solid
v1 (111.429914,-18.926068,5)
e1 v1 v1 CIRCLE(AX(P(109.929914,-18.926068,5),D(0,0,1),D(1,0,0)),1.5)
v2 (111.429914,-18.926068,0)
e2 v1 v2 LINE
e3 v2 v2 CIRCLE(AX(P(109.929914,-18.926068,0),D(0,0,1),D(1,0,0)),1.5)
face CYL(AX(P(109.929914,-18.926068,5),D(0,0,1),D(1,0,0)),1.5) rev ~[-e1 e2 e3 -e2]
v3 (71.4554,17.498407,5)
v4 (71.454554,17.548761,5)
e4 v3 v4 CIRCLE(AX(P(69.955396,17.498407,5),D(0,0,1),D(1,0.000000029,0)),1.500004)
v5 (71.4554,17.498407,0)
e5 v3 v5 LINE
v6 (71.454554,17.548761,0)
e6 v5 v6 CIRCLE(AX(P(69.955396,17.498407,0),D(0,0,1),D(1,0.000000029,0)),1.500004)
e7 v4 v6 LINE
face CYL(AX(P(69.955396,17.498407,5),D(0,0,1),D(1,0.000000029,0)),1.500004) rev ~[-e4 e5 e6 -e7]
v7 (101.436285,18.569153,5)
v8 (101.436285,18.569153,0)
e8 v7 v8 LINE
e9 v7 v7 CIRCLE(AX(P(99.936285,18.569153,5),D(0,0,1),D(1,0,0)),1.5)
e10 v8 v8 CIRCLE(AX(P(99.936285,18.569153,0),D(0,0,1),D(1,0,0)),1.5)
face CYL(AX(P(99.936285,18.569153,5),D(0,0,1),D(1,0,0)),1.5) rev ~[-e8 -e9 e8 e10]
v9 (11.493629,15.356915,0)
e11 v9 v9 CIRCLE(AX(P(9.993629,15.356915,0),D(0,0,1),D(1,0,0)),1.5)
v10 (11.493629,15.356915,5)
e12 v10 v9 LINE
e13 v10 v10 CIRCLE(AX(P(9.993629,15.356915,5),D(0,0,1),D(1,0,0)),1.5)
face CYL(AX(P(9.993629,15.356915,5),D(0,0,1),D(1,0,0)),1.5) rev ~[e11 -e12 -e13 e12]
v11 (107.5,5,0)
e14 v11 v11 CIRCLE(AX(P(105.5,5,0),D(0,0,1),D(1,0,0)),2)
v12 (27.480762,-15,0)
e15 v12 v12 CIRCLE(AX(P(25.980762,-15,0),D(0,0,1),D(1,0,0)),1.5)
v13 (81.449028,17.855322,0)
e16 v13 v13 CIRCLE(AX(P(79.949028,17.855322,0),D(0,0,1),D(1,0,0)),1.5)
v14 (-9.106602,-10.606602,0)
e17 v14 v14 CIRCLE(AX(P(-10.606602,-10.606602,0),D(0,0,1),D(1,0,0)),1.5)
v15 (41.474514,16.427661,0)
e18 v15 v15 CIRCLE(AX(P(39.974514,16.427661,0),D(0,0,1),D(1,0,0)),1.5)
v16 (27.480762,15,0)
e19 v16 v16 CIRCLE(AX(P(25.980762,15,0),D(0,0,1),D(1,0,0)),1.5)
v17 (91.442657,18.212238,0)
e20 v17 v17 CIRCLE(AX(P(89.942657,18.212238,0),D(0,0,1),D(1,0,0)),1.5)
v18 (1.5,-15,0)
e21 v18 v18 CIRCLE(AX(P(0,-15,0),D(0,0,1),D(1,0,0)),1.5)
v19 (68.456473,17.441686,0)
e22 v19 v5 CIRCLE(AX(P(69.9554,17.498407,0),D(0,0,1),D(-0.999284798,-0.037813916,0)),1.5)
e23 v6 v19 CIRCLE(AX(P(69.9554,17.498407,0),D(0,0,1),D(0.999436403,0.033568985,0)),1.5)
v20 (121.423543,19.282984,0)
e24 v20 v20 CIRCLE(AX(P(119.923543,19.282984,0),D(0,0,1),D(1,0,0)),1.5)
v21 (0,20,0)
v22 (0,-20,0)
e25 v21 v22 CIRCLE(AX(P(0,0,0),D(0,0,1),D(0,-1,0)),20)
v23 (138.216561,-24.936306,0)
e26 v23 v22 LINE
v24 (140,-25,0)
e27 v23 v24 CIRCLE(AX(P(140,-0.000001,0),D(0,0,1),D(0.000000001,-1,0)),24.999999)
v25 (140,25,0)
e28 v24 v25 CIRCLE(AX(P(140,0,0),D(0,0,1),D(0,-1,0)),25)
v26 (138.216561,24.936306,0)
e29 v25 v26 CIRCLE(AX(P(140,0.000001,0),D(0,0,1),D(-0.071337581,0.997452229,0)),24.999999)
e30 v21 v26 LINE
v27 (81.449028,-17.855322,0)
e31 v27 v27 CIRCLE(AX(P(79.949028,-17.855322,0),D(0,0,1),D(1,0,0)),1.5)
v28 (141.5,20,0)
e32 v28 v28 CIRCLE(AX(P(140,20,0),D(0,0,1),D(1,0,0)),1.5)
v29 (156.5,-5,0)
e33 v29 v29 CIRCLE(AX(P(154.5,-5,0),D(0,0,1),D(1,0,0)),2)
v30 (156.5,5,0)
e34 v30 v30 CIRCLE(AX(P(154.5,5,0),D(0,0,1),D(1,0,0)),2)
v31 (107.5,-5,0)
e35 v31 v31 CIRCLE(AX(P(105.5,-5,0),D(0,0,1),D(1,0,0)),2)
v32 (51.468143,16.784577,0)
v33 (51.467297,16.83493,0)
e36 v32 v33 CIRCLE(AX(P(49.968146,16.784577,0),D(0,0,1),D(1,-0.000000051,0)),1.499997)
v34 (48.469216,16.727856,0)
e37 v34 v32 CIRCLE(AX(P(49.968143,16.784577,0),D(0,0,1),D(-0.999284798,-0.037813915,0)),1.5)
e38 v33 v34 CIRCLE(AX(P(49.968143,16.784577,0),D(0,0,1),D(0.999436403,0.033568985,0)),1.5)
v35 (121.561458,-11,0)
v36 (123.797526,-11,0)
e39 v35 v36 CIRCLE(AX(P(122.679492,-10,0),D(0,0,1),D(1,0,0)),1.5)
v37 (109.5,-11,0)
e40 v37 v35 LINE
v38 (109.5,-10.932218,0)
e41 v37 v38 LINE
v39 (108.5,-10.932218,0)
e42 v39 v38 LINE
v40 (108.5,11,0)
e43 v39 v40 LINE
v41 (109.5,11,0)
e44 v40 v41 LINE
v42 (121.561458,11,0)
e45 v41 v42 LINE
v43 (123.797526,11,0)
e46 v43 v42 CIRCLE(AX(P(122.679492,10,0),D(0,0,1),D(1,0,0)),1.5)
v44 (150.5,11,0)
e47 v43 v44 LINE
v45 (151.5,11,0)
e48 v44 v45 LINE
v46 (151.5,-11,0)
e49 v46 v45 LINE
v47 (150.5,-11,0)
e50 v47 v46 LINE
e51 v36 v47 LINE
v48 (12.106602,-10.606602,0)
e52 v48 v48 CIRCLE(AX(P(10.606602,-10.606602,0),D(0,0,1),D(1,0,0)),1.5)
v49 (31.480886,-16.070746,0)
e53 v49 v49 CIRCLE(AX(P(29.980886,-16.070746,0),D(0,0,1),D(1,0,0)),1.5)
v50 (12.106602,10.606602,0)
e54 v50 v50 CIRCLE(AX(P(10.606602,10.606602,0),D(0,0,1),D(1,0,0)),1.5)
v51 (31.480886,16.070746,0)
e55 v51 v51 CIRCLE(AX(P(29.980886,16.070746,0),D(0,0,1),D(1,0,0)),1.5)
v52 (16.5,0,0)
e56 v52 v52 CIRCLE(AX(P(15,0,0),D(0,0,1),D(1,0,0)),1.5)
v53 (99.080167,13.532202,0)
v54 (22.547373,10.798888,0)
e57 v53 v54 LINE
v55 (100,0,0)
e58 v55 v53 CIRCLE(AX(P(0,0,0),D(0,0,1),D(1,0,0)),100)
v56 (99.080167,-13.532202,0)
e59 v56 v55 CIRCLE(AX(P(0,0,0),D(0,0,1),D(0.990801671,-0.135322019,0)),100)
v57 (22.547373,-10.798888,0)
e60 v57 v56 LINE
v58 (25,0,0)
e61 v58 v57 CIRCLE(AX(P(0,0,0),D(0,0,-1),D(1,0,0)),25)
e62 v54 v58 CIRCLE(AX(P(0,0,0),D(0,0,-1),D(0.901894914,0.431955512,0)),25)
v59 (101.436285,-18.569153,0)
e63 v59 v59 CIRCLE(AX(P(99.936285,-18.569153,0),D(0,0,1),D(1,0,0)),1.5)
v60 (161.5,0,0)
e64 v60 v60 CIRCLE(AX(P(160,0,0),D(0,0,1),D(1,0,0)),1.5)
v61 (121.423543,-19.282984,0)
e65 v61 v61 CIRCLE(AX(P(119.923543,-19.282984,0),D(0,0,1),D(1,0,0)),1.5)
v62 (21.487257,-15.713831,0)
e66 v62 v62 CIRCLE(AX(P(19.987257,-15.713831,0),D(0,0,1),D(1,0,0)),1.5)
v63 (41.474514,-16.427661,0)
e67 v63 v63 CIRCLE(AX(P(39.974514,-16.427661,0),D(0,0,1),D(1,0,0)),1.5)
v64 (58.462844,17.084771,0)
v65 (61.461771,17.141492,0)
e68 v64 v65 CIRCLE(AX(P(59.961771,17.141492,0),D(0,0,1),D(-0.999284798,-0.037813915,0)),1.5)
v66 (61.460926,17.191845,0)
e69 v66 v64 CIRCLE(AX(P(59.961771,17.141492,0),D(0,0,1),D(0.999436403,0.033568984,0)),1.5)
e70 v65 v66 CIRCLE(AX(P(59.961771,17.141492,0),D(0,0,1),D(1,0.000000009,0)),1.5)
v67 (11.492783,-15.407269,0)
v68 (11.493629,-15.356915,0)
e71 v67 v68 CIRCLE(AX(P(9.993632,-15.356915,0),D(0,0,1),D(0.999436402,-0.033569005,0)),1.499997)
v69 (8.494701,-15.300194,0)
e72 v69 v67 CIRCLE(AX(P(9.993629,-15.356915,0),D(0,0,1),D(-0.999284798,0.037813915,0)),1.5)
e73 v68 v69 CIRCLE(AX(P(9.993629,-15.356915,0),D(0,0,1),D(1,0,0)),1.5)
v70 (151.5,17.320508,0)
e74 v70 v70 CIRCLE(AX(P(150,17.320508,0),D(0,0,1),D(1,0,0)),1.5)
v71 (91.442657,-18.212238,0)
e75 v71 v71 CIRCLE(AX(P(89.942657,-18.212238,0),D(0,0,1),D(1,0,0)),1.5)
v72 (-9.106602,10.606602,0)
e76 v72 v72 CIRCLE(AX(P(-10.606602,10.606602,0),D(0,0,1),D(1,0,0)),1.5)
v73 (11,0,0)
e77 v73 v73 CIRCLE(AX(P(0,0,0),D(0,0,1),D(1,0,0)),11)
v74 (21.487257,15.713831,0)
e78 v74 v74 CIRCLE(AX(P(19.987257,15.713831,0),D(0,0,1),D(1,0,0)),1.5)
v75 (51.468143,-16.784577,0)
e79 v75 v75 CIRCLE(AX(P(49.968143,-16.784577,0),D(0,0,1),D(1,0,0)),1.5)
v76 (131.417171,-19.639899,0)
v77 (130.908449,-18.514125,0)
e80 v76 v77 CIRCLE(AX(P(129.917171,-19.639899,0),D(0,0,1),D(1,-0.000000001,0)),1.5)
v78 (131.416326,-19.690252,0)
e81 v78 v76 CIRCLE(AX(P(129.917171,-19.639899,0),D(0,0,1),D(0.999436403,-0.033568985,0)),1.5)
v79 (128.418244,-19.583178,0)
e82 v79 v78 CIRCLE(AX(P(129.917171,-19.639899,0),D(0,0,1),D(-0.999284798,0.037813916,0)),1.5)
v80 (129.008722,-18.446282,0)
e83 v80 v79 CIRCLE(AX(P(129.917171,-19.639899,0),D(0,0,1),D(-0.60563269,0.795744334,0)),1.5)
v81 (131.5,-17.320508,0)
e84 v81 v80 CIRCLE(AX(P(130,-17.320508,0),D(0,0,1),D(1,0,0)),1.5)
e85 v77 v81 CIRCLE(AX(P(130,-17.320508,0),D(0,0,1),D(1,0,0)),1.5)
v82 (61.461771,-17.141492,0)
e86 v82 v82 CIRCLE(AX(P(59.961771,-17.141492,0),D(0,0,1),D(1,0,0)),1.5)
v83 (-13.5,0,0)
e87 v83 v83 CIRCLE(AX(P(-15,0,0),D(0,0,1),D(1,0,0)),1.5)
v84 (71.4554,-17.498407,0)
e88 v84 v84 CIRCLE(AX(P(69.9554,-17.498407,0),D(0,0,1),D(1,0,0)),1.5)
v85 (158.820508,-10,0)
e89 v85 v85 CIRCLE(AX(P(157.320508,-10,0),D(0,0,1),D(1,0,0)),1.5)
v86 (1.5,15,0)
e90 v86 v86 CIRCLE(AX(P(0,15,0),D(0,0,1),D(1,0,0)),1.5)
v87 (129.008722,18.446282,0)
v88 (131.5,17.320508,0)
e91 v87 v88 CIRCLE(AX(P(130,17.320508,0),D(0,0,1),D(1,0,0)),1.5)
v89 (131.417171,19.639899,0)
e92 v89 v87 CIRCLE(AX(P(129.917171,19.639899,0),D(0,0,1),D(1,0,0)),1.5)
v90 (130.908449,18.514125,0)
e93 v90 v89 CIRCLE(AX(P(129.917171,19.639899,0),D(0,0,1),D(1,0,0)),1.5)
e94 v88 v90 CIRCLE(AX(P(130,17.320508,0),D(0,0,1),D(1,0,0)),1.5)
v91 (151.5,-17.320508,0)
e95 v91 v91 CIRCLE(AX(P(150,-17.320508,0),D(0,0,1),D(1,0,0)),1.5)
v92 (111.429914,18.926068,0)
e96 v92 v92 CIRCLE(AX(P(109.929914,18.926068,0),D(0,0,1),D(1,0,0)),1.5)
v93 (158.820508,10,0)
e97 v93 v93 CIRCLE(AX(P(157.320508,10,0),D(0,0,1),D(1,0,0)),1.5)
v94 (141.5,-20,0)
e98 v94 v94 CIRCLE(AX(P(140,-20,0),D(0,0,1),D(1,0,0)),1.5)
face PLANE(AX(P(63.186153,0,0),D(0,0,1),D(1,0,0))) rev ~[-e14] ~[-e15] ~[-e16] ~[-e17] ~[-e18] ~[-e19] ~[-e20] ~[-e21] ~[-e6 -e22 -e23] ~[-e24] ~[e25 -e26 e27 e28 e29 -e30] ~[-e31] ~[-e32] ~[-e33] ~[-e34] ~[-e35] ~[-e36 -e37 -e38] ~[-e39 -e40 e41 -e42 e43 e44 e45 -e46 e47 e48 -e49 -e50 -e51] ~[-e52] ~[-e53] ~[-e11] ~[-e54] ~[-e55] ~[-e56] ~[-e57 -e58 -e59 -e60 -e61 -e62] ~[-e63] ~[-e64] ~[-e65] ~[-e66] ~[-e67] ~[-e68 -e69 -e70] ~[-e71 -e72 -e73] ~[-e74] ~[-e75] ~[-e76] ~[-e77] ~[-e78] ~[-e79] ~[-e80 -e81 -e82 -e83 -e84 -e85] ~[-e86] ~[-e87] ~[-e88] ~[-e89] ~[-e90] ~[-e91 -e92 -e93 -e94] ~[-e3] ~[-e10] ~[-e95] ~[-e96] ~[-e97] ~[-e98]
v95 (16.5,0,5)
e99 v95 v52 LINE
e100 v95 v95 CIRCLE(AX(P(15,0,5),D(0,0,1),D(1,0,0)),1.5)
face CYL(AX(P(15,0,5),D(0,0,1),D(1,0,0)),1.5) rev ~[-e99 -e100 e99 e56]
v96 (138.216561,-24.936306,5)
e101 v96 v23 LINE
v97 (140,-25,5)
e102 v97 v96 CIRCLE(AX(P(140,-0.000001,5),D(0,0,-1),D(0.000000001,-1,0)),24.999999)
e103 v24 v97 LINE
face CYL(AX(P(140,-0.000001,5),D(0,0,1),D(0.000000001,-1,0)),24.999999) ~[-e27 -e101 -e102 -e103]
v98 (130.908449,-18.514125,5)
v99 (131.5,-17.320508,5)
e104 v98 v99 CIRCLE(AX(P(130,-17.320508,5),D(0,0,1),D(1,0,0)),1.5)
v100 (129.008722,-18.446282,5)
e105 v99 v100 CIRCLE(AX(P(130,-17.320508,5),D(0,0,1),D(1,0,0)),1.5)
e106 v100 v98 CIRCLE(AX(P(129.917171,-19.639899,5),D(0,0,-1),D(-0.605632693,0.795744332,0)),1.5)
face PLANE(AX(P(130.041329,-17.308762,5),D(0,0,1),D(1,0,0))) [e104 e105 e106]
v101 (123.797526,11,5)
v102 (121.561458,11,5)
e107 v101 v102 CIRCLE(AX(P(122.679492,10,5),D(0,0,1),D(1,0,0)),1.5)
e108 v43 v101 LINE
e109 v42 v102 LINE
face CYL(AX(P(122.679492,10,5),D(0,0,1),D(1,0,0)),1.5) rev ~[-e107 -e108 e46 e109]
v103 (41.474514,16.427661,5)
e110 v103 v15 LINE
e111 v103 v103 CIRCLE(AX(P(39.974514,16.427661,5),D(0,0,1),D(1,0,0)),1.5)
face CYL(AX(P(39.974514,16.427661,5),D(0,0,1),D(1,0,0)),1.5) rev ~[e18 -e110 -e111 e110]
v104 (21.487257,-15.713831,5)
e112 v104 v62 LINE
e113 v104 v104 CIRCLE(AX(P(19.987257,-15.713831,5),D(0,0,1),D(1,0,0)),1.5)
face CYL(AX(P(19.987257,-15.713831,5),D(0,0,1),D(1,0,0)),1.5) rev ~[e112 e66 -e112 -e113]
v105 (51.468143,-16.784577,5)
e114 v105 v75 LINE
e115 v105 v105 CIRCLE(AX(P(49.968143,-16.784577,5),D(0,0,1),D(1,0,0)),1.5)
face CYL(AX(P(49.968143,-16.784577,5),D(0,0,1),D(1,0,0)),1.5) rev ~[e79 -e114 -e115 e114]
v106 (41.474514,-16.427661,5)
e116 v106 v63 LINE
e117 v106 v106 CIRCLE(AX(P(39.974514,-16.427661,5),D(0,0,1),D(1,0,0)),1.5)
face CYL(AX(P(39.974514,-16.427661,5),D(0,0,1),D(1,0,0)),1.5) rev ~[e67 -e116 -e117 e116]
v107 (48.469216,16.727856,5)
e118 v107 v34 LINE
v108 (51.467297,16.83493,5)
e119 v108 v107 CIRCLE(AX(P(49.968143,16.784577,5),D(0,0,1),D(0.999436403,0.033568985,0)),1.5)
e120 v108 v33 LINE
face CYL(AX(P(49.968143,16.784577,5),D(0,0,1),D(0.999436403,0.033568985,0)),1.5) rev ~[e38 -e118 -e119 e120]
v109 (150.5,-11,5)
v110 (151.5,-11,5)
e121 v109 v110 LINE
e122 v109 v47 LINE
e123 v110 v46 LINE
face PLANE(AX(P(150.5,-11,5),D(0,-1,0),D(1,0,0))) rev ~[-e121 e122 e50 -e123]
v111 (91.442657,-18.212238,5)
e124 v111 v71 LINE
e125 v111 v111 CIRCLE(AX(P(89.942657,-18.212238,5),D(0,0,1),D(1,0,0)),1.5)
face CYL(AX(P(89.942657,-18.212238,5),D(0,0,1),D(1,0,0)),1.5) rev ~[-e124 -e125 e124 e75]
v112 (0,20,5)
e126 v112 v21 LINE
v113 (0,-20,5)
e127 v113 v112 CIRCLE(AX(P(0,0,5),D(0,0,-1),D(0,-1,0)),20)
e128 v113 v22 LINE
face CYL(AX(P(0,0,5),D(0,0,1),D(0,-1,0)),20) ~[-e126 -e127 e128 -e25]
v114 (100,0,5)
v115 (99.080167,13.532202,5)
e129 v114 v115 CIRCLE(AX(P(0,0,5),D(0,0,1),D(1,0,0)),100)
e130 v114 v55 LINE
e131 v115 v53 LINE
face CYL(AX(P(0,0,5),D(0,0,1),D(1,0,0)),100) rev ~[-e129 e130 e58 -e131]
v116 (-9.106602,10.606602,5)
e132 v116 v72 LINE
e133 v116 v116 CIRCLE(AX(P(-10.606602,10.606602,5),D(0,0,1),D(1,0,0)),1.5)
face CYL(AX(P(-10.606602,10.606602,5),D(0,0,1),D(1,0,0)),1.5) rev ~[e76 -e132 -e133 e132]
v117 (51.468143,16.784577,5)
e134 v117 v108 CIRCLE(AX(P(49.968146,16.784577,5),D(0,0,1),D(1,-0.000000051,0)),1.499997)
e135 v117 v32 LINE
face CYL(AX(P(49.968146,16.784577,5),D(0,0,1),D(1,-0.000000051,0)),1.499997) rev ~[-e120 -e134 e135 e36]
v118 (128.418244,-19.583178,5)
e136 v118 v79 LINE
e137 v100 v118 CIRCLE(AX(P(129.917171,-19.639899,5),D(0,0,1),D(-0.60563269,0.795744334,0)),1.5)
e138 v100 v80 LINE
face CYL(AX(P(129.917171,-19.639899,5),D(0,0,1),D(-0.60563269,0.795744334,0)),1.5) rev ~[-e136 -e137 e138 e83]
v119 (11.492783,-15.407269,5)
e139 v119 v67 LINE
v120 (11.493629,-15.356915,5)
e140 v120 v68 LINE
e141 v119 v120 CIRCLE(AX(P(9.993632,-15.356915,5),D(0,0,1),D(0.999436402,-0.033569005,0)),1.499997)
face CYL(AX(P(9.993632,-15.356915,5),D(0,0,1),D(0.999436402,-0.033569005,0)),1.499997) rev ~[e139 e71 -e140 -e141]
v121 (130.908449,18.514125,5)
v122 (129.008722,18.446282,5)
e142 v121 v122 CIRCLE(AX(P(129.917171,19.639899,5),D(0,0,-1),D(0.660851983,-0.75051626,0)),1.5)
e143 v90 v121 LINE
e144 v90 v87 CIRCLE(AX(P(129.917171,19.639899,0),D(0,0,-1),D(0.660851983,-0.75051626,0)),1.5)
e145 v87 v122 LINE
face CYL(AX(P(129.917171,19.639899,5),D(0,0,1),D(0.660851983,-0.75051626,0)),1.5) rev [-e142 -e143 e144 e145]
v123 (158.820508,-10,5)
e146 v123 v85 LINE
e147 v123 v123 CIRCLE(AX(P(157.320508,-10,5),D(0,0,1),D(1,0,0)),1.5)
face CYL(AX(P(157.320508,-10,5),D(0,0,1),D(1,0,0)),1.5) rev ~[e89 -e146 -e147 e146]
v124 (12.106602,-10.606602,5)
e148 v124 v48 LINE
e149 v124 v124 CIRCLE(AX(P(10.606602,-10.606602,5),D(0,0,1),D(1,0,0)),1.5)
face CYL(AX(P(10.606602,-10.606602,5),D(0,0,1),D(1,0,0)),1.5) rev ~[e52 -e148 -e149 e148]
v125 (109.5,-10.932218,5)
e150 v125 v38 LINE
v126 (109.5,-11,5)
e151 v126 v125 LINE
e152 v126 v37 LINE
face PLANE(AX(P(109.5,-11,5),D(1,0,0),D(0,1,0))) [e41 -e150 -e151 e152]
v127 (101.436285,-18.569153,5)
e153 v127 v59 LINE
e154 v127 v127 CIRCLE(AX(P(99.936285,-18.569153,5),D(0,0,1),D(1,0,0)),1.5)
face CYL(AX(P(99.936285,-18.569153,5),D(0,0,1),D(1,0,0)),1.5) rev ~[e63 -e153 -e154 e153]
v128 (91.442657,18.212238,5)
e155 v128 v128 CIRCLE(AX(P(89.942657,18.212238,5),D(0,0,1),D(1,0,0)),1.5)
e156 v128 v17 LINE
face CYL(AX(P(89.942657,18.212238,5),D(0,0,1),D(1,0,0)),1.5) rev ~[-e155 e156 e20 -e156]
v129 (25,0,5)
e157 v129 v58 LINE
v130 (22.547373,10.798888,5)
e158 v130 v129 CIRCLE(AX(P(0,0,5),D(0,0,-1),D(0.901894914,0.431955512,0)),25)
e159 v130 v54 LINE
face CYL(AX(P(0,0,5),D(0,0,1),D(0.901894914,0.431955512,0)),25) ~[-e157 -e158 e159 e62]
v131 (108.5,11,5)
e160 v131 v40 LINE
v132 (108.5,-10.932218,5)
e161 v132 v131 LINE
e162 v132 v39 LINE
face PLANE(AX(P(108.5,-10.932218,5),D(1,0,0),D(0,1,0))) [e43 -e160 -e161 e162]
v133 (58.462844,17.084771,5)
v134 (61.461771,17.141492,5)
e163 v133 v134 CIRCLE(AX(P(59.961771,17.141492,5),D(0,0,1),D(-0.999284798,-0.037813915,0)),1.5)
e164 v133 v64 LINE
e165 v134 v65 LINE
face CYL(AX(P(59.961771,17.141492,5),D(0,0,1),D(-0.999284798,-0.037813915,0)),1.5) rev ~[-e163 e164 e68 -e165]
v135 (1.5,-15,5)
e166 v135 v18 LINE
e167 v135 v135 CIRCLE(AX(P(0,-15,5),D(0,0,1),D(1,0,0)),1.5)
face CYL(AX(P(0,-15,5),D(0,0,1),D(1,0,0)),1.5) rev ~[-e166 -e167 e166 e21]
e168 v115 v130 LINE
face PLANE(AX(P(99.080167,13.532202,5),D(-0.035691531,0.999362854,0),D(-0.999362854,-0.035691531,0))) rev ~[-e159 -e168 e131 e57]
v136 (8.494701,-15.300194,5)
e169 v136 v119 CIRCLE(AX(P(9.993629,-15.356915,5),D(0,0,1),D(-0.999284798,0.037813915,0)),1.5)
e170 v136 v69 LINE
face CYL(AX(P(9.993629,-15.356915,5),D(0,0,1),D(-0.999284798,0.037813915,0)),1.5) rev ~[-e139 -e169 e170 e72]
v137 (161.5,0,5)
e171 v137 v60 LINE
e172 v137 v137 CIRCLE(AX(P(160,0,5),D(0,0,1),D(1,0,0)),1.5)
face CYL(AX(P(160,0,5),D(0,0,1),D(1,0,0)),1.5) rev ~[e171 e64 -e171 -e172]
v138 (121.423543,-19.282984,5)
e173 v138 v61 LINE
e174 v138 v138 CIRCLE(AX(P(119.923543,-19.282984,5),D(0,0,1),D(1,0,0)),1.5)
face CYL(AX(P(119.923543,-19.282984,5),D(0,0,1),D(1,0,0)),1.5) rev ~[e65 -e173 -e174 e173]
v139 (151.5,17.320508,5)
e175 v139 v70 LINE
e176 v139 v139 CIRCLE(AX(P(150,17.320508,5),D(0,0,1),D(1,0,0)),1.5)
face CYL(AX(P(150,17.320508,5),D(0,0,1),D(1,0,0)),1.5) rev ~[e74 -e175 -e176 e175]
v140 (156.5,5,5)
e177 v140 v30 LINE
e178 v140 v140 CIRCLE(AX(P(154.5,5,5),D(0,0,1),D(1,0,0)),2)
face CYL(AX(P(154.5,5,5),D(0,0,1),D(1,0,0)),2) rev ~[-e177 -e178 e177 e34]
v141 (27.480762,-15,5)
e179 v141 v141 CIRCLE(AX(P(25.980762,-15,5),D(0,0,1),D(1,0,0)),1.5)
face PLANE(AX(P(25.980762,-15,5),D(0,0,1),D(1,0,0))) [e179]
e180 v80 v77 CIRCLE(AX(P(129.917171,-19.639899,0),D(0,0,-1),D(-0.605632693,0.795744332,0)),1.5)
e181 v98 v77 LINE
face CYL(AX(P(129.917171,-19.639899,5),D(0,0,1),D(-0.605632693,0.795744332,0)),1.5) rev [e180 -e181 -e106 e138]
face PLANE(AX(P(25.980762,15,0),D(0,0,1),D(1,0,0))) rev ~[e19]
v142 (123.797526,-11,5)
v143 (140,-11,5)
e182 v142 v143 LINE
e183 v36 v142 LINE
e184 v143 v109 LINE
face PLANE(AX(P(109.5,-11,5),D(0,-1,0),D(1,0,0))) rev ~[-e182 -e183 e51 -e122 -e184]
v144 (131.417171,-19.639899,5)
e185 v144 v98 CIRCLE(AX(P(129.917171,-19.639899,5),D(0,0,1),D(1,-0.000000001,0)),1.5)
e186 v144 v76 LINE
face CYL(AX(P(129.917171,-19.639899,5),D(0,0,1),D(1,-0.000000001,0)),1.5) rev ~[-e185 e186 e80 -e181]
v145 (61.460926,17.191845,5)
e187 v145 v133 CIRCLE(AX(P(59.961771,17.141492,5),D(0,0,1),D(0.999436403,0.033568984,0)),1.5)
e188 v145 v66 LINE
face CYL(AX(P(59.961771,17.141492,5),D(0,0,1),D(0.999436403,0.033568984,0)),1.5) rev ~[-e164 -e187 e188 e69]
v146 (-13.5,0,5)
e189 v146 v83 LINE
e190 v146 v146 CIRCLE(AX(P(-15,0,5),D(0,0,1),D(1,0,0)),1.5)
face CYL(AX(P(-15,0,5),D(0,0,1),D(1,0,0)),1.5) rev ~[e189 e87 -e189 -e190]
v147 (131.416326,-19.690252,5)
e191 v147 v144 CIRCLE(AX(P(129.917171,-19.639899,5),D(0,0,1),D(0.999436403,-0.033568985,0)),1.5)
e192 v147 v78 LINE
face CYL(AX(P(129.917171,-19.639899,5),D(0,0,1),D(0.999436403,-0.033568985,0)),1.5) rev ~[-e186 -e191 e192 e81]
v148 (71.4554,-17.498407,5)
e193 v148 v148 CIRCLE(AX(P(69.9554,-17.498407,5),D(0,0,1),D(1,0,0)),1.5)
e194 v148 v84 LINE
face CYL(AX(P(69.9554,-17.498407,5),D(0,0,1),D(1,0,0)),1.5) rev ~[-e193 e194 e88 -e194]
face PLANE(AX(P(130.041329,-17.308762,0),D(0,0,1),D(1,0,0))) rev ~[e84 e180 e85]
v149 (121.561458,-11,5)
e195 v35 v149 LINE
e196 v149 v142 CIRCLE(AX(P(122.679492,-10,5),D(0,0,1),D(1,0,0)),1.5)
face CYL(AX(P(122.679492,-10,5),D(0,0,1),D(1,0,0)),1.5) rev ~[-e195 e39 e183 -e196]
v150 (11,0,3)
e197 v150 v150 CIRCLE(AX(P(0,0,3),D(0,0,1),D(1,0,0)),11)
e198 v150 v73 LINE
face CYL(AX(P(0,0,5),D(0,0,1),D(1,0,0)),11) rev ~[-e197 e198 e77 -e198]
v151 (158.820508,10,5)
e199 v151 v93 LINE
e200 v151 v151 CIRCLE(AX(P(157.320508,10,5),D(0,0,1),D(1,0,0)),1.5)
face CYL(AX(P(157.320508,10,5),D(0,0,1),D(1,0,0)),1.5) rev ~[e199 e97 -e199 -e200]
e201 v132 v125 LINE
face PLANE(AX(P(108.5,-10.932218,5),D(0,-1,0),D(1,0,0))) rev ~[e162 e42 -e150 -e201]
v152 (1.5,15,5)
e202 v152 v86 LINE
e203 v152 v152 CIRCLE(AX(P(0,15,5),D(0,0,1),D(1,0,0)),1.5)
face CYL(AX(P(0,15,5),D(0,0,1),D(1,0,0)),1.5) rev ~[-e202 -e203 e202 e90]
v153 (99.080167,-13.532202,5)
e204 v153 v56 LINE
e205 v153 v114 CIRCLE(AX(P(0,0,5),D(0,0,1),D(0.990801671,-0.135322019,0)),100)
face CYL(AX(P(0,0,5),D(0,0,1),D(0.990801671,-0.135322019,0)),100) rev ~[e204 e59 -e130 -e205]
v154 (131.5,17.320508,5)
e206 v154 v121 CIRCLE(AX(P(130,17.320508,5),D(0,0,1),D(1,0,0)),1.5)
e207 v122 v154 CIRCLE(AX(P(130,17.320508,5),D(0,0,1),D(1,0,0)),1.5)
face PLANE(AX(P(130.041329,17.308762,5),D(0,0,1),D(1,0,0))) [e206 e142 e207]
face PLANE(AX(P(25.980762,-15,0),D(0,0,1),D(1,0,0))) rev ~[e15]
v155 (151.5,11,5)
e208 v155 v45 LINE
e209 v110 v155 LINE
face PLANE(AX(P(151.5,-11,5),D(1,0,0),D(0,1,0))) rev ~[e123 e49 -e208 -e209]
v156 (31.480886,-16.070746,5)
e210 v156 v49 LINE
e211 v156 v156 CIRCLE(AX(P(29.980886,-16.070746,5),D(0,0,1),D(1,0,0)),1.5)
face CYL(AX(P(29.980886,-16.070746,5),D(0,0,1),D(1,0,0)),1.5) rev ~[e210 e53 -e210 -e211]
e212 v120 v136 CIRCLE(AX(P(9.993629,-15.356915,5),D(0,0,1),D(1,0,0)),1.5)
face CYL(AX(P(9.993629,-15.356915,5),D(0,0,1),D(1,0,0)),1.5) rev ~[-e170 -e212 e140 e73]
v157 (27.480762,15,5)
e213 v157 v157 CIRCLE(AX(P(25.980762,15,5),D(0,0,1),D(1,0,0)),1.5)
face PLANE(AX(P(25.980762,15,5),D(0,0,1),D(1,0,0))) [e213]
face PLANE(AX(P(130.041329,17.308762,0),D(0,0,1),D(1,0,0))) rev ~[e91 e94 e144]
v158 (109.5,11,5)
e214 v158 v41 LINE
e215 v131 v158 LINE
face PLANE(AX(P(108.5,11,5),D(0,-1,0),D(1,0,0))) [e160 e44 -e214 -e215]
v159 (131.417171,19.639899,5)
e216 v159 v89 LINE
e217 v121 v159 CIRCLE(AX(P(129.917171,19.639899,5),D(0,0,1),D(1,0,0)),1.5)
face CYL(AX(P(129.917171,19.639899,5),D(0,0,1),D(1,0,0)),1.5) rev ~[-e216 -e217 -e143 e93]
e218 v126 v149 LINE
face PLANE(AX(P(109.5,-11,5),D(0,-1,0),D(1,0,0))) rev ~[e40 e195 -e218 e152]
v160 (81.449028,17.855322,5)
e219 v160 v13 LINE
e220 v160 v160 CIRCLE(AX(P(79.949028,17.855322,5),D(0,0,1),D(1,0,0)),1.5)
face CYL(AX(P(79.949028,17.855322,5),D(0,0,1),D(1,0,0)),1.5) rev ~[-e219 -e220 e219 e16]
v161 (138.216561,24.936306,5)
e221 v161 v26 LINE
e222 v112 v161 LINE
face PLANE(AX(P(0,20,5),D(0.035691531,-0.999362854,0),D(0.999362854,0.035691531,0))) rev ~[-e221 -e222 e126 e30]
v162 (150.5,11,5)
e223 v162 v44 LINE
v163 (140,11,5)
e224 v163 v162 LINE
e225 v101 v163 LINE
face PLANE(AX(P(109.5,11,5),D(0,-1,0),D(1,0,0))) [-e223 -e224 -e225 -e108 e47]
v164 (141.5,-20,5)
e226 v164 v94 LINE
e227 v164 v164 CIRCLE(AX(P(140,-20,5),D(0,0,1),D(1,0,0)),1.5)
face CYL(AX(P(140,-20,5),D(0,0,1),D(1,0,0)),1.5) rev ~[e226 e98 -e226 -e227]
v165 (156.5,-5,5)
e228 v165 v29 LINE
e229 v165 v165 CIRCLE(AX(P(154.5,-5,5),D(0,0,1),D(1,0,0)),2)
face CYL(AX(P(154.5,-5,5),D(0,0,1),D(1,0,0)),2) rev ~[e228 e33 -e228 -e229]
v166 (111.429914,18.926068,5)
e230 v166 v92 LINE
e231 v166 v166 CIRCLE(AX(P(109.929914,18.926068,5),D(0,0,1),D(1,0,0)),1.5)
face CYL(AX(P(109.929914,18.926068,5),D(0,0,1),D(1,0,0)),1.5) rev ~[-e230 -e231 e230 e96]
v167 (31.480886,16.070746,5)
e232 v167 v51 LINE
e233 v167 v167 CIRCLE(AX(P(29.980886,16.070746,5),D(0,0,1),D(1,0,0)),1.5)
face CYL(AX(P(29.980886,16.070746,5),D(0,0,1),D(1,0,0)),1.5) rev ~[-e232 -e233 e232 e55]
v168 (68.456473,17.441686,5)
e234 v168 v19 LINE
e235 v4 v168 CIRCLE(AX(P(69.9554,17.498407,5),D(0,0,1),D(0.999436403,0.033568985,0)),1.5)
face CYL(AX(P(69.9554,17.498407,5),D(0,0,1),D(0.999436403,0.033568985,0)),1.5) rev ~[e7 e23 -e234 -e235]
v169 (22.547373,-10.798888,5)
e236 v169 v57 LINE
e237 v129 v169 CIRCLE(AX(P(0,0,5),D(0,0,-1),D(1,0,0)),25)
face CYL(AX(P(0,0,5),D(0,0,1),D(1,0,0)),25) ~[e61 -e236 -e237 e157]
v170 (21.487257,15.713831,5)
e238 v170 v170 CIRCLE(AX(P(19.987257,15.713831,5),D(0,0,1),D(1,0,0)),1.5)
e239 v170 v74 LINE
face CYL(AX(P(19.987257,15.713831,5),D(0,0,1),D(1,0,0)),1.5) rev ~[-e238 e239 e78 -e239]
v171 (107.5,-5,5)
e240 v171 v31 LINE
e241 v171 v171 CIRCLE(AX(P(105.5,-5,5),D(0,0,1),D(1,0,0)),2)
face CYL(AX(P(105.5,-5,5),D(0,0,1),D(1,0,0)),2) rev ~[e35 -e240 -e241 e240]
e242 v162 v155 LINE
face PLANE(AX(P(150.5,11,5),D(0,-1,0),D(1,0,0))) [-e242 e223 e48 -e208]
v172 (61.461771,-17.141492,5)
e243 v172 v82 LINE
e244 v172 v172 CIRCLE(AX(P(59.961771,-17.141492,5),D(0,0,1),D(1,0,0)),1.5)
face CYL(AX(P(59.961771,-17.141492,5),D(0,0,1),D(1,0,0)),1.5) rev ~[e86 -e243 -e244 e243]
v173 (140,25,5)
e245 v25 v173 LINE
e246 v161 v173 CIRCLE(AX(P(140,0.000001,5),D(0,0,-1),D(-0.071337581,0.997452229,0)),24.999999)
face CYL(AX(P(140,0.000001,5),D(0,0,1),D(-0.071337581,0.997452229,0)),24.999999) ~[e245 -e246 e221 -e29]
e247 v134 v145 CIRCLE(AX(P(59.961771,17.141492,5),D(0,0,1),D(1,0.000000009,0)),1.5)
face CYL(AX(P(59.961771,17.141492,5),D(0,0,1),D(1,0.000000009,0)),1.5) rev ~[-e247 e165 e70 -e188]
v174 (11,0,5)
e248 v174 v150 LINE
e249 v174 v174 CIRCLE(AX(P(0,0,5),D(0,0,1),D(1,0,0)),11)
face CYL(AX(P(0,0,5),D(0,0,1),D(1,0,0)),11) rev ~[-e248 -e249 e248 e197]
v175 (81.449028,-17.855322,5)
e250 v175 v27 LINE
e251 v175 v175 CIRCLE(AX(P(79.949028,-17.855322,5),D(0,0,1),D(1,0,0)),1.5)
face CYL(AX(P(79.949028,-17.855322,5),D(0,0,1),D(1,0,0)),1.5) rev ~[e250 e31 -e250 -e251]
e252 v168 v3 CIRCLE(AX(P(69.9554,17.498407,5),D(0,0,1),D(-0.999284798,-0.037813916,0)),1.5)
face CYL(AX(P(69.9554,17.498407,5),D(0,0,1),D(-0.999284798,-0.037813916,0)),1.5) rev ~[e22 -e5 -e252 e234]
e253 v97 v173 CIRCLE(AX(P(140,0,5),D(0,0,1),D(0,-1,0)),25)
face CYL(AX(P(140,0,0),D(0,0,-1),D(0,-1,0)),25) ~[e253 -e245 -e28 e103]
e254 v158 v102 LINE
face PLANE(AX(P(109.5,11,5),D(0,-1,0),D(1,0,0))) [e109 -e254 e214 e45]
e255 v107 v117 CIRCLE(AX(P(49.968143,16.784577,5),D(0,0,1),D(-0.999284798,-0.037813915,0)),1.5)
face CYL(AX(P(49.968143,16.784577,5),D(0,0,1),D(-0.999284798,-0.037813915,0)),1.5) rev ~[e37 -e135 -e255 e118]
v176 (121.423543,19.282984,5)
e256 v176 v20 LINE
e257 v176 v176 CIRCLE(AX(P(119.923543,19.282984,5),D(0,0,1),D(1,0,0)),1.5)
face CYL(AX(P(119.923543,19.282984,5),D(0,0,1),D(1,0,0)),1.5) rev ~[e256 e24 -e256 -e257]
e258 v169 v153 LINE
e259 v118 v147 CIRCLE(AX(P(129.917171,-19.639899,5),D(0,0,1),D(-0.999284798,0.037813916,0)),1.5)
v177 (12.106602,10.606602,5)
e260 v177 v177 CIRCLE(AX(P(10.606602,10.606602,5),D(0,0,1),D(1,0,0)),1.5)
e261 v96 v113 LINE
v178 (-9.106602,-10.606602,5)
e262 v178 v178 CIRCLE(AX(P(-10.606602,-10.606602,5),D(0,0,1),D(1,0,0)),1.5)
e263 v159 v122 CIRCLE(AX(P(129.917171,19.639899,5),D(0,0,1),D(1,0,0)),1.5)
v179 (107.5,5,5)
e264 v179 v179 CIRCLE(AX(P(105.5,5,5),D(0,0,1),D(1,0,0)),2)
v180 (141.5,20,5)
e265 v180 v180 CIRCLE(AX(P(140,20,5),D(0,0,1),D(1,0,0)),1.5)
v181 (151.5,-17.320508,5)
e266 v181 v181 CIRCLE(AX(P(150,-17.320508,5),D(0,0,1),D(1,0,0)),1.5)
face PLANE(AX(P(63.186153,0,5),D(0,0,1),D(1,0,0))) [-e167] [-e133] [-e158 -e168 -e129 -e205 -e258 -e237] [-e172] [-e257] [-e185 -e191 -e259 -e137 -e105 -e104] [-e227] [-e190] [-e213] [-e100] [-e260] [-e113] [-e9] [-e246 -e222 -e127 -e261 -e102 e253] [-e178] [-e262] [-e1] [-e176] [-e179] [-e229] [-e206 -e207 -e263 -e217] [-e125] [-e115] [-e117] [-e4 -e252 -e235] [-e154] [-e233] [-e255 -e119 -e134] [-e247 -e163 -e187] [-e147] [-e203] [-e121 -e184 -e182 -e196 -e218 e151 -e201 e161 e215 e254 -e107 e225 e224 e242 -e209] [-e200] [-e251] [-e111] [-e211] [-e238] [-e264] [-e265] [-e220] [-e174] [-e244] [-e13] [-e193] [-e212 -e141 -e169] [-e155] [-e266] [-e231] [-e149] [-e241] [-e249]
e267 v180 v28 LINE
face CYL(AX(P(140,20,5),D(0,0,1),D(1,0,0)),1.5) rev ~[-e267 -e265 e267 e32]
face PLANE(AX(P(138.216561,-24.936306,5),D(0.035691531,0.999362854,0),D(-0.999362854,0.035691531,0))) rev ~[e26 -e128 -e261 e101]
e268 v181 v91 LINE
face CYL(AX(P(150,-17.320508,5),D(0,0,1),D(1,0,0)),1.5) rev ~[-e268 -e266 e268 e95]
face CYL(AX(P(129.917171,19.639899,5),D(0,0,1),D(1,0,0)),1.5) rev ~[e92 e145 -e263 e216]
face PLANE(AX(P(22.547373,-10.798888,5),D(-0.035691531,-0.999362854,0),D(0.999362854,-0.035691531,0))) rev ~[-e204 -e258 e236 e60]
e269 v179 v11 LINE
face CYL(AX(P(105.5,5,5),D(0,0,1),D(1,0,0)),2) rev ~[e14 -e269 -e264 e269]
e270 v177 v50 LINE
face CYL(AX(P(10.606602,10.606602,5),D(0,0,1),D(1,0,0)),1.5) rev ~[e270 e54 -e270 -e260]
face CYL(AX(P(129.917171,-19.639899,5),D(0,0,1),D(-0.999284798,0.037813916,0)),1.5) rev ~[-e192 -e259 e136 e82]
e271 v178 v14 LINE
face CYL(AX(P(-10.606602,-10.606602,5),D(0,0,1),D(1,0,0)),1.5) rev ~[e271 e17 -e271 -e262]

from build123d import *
from build123d.topology import SkipClean

# Parameters (mm, degrees)
EXTRUDE_3_DEPTH      = 5
SKETCH_4_R           = 4
SKETCH_4_R_2         = 1.5
CUT_EXTRUDE_3_DEPTH  = 5
SKETCH_5_R           = 11
CUT_EXTRUDE_4_DEPTH  = 2
SKETCH_6_R           = 1.5
CUT_EXTRUDE_6_DEPTH  = 169.745370307
SKETCH_7_R           = 1.5
CUT_EXTRUDE_7_DEPTH  = 10
SKETCH_8_R           = 11
CUT_EXTRUDE_8_DEPTH  = 10
SKETCH_9_R           = 1.5
CUT_EXTRUDE_9_DEPTH  = 10
SKETCH_10_R          = 5
CUT_EXTRUDE_10_DEPTH = 10
SKETCH_11_R          = 2
CUT_EXTRUDE_11_DEPTH = 10
SKETCH_12_W          = 41
SKETCH_12_H          = 22
CUT_EXTRUDE_12_DEPTH = 10
SKETCH_13_R          = 1.5
CUT_EXTRUDE_13_DEPTH = 10
EXTRUDE_4_DEPTH      = 5
SKETCH_15_R          = 1.5
EXTRUDE_6_DEPTH      = 5
SKETCH_16_R          = 1.5
CUT_EXTRUDE_14_DEPTH = 5
EXTRUDE_7_DEPTH      = 5
CUT_EXTRUDE_15_DEPTH = 5
SKETCH_19_W          = 1
SKETCH_19_H          = 21.932218182
SKETCH_19_H_2        = 22
CUT_EXTRUDE_16_DEPTH = 10


with BuildPart() as part:
    # 草图1 → 凸台-拉伸3 (new body)
    with BuildSketch(Plane.XY):
        with BuildLine():
            Line((140, 25), (0, 35))
            ThreePointArc((0, 35), (-35, 0), (0, -35))
            Line((0, -35), (140, -25))
            ThreePointArc((140, -25), (165, 0), (140, 25))
        make_face()
    extrude(amount=EXTRUDE_3_DEPTH)

    # 草图4 → 切除-拉伸3 (cut)
    with BuildSketch(Plane.XY.offset(5)):
        with Locations((140, 0)):
            Circle(SKETCH_4_R)
        Circle(SKETCH_4_R)
        with BuildLine():
            Line((-5, -3.5), (-5, -5))
            Line((-5, -5), (-3.5, -5))
            ThreePointArc((-3.5, -5), (-3.939339828, -3.939339828), (-5, -3.5))
        make_face()
        with BuildLine():
            Line((-3.5, -5), (-5, -5))
            Line((-5, -5), (-5, -3.5))
            ThreePointArc((-5, -3.5), (-6.060660172, -6.060660172), (-3.5, -5))
        make_face()
        with Locations((135, 5)):
            Circle(SKETCH_4_R_2)
        with Locations((135, -5)):
            Circle(SKETCH_4_R_2)
        with Locations((145, -5)):
            Circle(SKETCH_4_R_2)
        with Locations((145, 5)):
            Circle(SKETCH_4_R_2)
        with Locations((-5, 5)):
            Circle(SKETCH_4_R_2)
        with Locations((5, 5)):
            Circle(SKETCH_4_R_2)
        with Locations((5, -5)):
            Circle(SKETCH_4_R_2)
    extrude(amount=-CUT_EXTRUDE_3_DEPTH, mode=Mode.SUBTRACT)

    # 草图5 → 切除-拉伸4 (cut)
    with BuildSketch(Plane.XY.offset(5)):
        Circle(SKETCH_5_R)
        with Locations((140, 0)):
            Circle(SKETCH_5_R)
    extrude(amount=-CUT_EXTRUDE_4_DEPTH, mode=Mode.SUBTRACT)

    # 草图6 → 切除-拉伸6 (cut, through all)
    with BuildSketch(Plane.XY.offset(5)):
        with Locations((0, 30)):
            Circle(SKETCH_6_R)
        with Locations((15, 25.980762114)):
            Circle(SKETCH_6_R)
        with Locations((25.980762114, 15)):
            Circle(SKETCH_6_R)
        with Locations((30, 0)):
            Circle(SKETCH_6_R)
        with Locations((25.980762114, -15)):
            Circle(SKETCH_6_R)
        with Locations((15, -25.980762114)):
            Circle(SKETCH_6_R)
        with Locations((0, -30)):
            Circle(SKETCH_6_R)
        with Locations((-15, -25.980762114)):
            Circle(SKETCH_6_R)
        with Locations((-25.980762114, -15)):
            Circle(SKETCH_6_R)
        with Locations((-30, 0)):
            Circle(SKETCH_6_R)
        with Locations((-25.980762114, 15)):
            Circle(SKETCH_6_R)
        with Locations((-15, 25.980762114)):
            Circle(SKETCH_6_R)
        with Locations((140, 20)):
            Circle(SKETCH_6_R)
        with Locations((150, 17.320508076)):
            Circle(SKETCH_6_R)
        with Locations((157.320508076, 10)):
            Circle(SKETCH_6_R)
        with Locations((160, 0)):
            Circle(SKETCH_6_R)
        with Locations((157.320508076, -10)):
            Circle(SKETCH_6_R)
        with Locations((150, -17.320508076)):
            Circle(SKETCH_6_R)
        with Locations((140, -20)):
            Circle(SKETCH_6_R)
        with Locations((130, -17.320508076)):
            Circle(SKETCH_6_R)
        with Locations((122.679491924, -10)):
            Circle(SKETCH_6_R)
        with Locations((120, 0)):
            Circle(SKETCH_6_R)
        with Locations((122.679491924, 10)):
            Circle(SKETCH_6_R)
        with Locations((130, 17.320508076)):
            Circle(SKETCH_6_R)
    extrude(amount=-CUT_EXTRUDE_6_DEPTH, mode=Mode.SUBTRACT)

    # 草图7 → 切除-拉伸7 (cut)
    with SkipClean():  # the faces are left unmerged after this step: merging them gives an invalid solid
        with BuildSketch(Plane.XY.offset(5)):
            with BuildLine():
                ThreePointArc((138.21656051, 24.936305732), (139.107711737, 24.984071359), (140, 25))
                Line((140, 25), (0, 35))
                ThreePointArc((0, 35), (-35, 0), (0, -35))
                Line((0, -35), (140, -25))
                ThreePointArc((140, -25), (139.107711737, -24.984071359), (138.21656051, -24.936305732))
                Line((138.21656051, -24.936305732), (0, -20))
                ThreePointArc((0, -20), (-20, 0), (0, 20))
                Line((0, 20), (138.21656051, 24.936305732))
            make_face()
            with Locations((0, -30)):
                Circle(SKETCH_7_R, mode=Mode.SUBTRACT)
            with Locations((-15, -25.980762114)):
                Circle(SKETCH_7_R, mode=Mode.SUBTRACT)
            with Locations((15, -25.980762114)):
                Circle(SKETCH_7_R, mode=Mode.SUBTRACT)
            with Locations((-25.980762114, -15)):
                Circle(SKETCH_7_R, mode=Mode.SUBTRACT)
            with Locations((-30, 0)):
                Circle(SKETCH_7_R, mode=Mode.SUBTRACT)
            with Locations((-25.980762114, 15)):
                Circle(SKETCH_7_R, mode=Mode.SUBTRACT)
            with Locations((-15, 25.980762114)):
                Circle(SKETCH_7_R, mode=Mode.SUBTRACT)
            with Locations((0, 30)):
                Circle(SKETCH_7_R, mode=Mode.SUBTRACT)
            with Locations((15, 25.980762114)):
                Circle(SKETCH_7_R, mode=Mode.SUBTRACT)
        extrude(amount=-CUT_EXTRUDE_7_DEPTH, mode=Mode.SUBTRACT)

    # 草图8 → 切除-拉伸8 (cut)
    with SkipClean():  # the faces are left unmerged after this step: merging them gives an invalid solid
        with BuildSketch(Plane.XY.offset(5)):
            Circle(SKETCH_8_R)
        extrude(amount=-CUT_EXTRUDE_8_DEPTH, mode=Mode.SUBTRACT)

    # 草图9 → 切除-拉伸9 (cut)
    with SkipClean():  # the faces are left unmerged after this step: merging them gives an invalid solid
        with BuildSketch(Plane.XY.offset(5)):
            with Locations((0, 15)):
                Circle(SKETCH_9_R)
            with Locations((10.606601718, 10.606601718)):
                Circle(SKETCH_9_R)
            with Locations((15, 0)):
                Circle(SKETCH_9_R)
            with Locations((10.606601718, -10.606601718)):
                Circle(SKETCH_9_R)
            with Locations((0, -15)):
                Circle(SKETCH_9_R)
            with Locations((-10.606601718, -10.606601718)):
                Circle(SKETCH_9_R)
            with Locations((-15, 0)):
                Circle(SKETCH_9_R)
            with Locations((-10.606601718, 10.606601718)):
                Circle(SKETCH_9_R)
        extrude(amount=-CUT_EXTRUDE_9_DEPTH, mode=Mode.SUBTRACT)

    # 草图10 → 切除-拉伸10 (cut)
    with SkipClean():  # the faces are left unmerged after this step: merging them gives an invalid solid
        with BuildSketch(Plane.XY.offset(3)):
            with Locations((140, 0)):
                Circle(SKETCH_10_R)
        extrude(amount=-CUT_EXTRUDE_10_DEPTH, mode=Mode.SUBTRACT)

    # 草图11 → 切除-拉伸11 (cut)
    with SkipClean():  # the faces are left unmerged after this step: merging them gives an invalid solid
        with BuildSketch(Plane.XY.offset(5)):
            with Locations((105.5, 5)):
                Circle(SKETCH_11_R)
            Polygon((110, 10), (110, 0), (110, -10), (150, -10), (150, 10), align=None)
            with Locations((105.5, -5)):
                Circle(SKETCH_11_R)
            with Locations((154.5, -5)):
                Circle(SKETCH_11_R)
            with Locations((154.5, 5)):
                Circle(SKETCH_11_R)
        extrude(amount=-CUT_EXTRUDE_11_DEPTH, mode=Mode.SUBTRACT)

    # 草图12 → 切除-拉伸12 (cut)
    with SkipClean():  # the faces are left unmerged after this step: merging them gives an invalid solid
        with BuildSketch(Plane.XY.offset(5)):
            with Locations((130, 0)):
                Rectangle(SKETCH_12_W, SKETCH_12_H)
        extrude(amount=-CUT_EXTRUDE_12_DEPTH, mode=Mode.SUBTRACT)

    # 草图13 → 切除-拉伸13 (cut)
    with SkipClean():  # the faces are left unmerged after this step: merging them gives an invalid solid
        with BuildSketch(Plane.XY.offset(5)):
            with BuildLine():
                ThreePointArc((11.493628543, -15.356915305), (10.021994052, -13.85718353), (8.494701346, -15.300194432))
                Line((8.494701346, -15.300194432), (11.492783148, -15.407268782))
                ThreePointArc((11.492783148, -15.407268782), (11.49341718, -15.382095592), (11.493628543, -15.356915305))
            make_face()
            with BuildLine():
                Line((11.492783148, -15.407268782), (8.494701346, -15.300194432))
                ThreePointArc((8.494701346, -15.300194432), (9.940091248, -16.855959587), (11.492783148, -15.407268782))
            make_face()
            with BuildLine():
                Line((131.416325669, -19.690252443), (128.418243868, -19.583178093))
                ThreePointArc((128.418243868, -19.583178093), (129.863633769, -21.138943248), (131.416325669, -19.690252443))
            make_face()
            with BuildLine():
                ThreePointArc((129.008722028, -18.446282468), (128.586006913, -18.948522079), (128.418243868, -19.583178093))
                Line((128.418243868, -19.583178093), (131.416325669, -19.690252443))
                ThreePointArc((131.416325669, -19.690252443), (131.416959701, -19.665079253), (131.417171065, -19.639898967))
                ThreePointArc((131.417171065, -19.639898967), (131.284086746, -19.022208493), (130.908449037, -18.514124575))
                ThreePointArc((130.908449037, -18.514124575), (129.94646687, -18.819552506), (129.008722028, -18.446282468))
            make_face()
            with Locations((19.987257087, -15.71383061)):
                Circle(SKETCH_13_R)
            with Locations((29.98088563, -16.070745915)):
                Circle(SKETCH_13_R)
            with Locations((39.974514174, -16.42766122)):
                Circle(SKETCH_13_R)
            with Locations((49.968142717, -16.784576526)):
                Circle(SKETCH_13_R)
            with Locations((59.961771261, -17.141491831)):
                Circle(SKETCH_13_R)
            with Locations((69.955399804, -17.498407136)):
                Circle(SKETCH_13_R)
            with Locations((89.942656891, -18.212237746)):
                Circle(SKETCH_13_R)
            with Locations((79.949028348, -17.855322441)):
                Circle(SKETCH_13_R)
            with Locations((99.936285435, -18.569153051)):
                Circle(SKETCH_13_R)
            with Locations((109.929913978, -18.926068356)):
                Circle(SKETCH_13_R)
            with Locations((119.923542522, -19.282983661)):
                Circle(SKETCH_13_R)
        extrude(amount=-CUT_EXTRUDE_13_DEPTH, mode=Mode.SUBTRACT)

    # 草图14 → 凸台-拉伸4 (add)
    with SkipClean():  # the faces are left unmerged after this step: merging them gives an invalid solid
        with BuildSketch(Plane.XY.offset(5)):
            with BuildLine():
                ThreePointArc((130.908449037, -18.514124575), (131.344000289, -17.986588568), (131.5, -17.320508076))
                ThreePointArc((131.5, -17.320508076), (129.382309527, -15.953592395), (129.008722028, -18.446282468))
                ThreePointArc((129.008722028, -18.446282468), (129.970704195, -18.140854536), (130.908449037, -18.514124575))
            make_face()
        extrude(amount=-EXTRUDE_4_DEPTH)

    # 草图15 → 凸台-拉伸6 (add)
    with SkipClean():  # the faces are left unmerged after this step: merging them gives an invalid solid
        with BuildSketch(Plane.XY.offset(5)):
            with Locations((25.980762114, 15)):
                Circle(SKETCH_15_R)
            with Locations((30, 0)):
                Circle(SKETCH_15_R)
            with Locations((25.980762114, -15)):
                Circle(SKETCH_15_R)
        extrude(amount=-EXTRUDE_6_DEPTH)

    # 草图16 → 切除-拉伸14 (cut)
    with SkipClean():  # the faces are left unmerged after this step: merging them gives an invalid solid
        with BuildSketch(Plane.XY.offset(5)):
            with BuildLine():
                ThreePointArc((51.467297322, 16.834930002), (49.914605422, 18.283620807), (48.46921552, 16.727855652))
                Line((48.46921552, 16.727855652), (51.467297322, 16.834930002))
            make_face()
            with BuildLine():
                Line((51.467297322, 16.834930002), (48.46921552, 16.727855652))
                ThreePointArc((48.46921552, 16.727855652), (49.996508226, 15.28484475), (51.468142717, 16.784576526))
                ThreePointArc((51.468142717, 16.784576526), (51.467931354, 16.809756812), (51.467297322, 16.834930002))
            make_face()
            with BuildLine():
                ThreePointArc((61.460925865, 17.191845307), (59.908233965, 18.640536112), (58.462844064, 17.084770957))
                Line((58.462844064, 17.084770957), (61.460925865, 17.191845307))
            make_face()
            with BuildLine():
                Line((61.460925865, 17.191845307), (58.462844064, 17.084770957))
                ThreePointArc((58.462844064, 17.084770957), (59.99013677, 15.641760055), (61.461771261, 17.141491831))
                ThreePointArc((61.461771261, 17.141491831), (61.461559897, 17.166672117), (61.460925865, 17.191845307))
            make_face()
            with BuildLine():
                ThreePointArc((71.454554409, 17.548760612), (69.901862509, 18.997451417), (68.456472607, 17.441686262))
                Line((68.456472607, 17.441686262), (71.454554409, 17.548760612))
            make_face()
            with BuildLine():
                Line((71.454554409, 17.548760612), (68.456472607, 17.441686262))
                ThreePointArc((68.456472607, 17.441686262), (69.983765313, 15.998675361), (71.455399804, 17.498407136))
                ThreePointArc((71.455399804, 17.498407136), (71.45518844, 17.523587422), (71.454554409, 17.548760612))
            make_face()
            with Locations((9.993628543, 15.356915305)):
                Circle(SKETCH_16_R)
            with Locations((19.987257087, 15.71383061)):
                Circle(SKETCH_16_R)
            with Locations((29.98088563, 16.070745915)):
                Circle(SKETCH_16_R)
            with Locations((39.974514174, 16.42766122)):
                Circle(SKETCH_16_R)
            with Locations((79.949028348, 17.855322441)):
                Circle(SKETCH_16_R)
            with Locations((89.942656891, 18.212237746)):
                Circle(SKETCH_16_R)
            with Locations((99.936285435, 18.569153051)):
                Circle(SKETCH_16_R)
            with Locations((109.929913978, 18.926068356)):
                Circle(SKETCH_16_R)
            with Locations((119.923542522, 19.282983661)):
                Circle(SKETCH_16_R)
            with Locations((129.917171065, 19.639898967)):
                Circle(SKETCH_16_R)
        extrude(amount=-CUT_EXTRUDE_14_DEPTH, mode=Mode.SUBTRACT)

    # 草图17 → 凸台-拉伸7 (add)
    with SkipClean():  # the faces are left unmerged after this step: merging them gives an invalid solid
        with BuildSketch(Plane.XY.offset(5)):
            with BuildLine():
                ThreePointArc((129.008722028, 18.446282468), (129.382309527, 15.953592395), (131.5, 17.320508076))
                ThreePointArc((131.5, 17.320508076), (131.344000289, 17.986588568), (130.908449037, 18.514124575))
                ThreePointArc((130.908449037, 18.514124575), (129.970704195, 18.140854536), (129.008722028, 18.446282468))
            make_face()
        extrude(amount=-EXTRUDE_7_DEPTH)

    # 草图18 → 切除-拉伸15 (cut)
    with SkipClean():  # the faces are left unmerged after this step: merging them gives an invalid solid
        with BuildSketch(Plane.XY.offset(5)):
            with BuildLine():
                ThreePointArc((100, 0), (99.769776761, 6.781714021), (99.080167099, 13.532201878))
                Line((99.080167099, 13.532201878), (22.547372848, 10.798887797))
                ThreePointArc((22.547372848, 10.798887797), (24.379133713, 5.536952176), (25, 0))
                ThreePointArc((25, 0), (24.379133713, -5.536952176), (22.547372848, -10.798887797))
                Line((22.547372848, -10.798887797), (99.080167099, -13.532201878))
                ThreePointArc((99.080167099, -13.532201878), (99.769776761, -6.781714021), (100, 0))
            make_face()
        extrude(amount=-CUT_EXTRUDE_15_DEPTH, mode=Mode.SUBTRACT)

    # 草图19 → 切除-拉伸16 (cut)
    with SkipClean():  # the faces are left unmerged after this step: merging them gives an invalid solid
        with BuildSketch(Plane.XY.offset(5)):
            with Locations((109, 0.033890909)):
                Rectangle(SKETCH_19_W, SKETCH_19_H)
            with Locations((151, 0)):
                Rectangle(SKETCH_19_W, SKETCH_19_H_2)
        extrude(amount=-CUT_EXTRUDE_16_DEPTH, mode=Mode.SUBTRACT)


solid = part.part
